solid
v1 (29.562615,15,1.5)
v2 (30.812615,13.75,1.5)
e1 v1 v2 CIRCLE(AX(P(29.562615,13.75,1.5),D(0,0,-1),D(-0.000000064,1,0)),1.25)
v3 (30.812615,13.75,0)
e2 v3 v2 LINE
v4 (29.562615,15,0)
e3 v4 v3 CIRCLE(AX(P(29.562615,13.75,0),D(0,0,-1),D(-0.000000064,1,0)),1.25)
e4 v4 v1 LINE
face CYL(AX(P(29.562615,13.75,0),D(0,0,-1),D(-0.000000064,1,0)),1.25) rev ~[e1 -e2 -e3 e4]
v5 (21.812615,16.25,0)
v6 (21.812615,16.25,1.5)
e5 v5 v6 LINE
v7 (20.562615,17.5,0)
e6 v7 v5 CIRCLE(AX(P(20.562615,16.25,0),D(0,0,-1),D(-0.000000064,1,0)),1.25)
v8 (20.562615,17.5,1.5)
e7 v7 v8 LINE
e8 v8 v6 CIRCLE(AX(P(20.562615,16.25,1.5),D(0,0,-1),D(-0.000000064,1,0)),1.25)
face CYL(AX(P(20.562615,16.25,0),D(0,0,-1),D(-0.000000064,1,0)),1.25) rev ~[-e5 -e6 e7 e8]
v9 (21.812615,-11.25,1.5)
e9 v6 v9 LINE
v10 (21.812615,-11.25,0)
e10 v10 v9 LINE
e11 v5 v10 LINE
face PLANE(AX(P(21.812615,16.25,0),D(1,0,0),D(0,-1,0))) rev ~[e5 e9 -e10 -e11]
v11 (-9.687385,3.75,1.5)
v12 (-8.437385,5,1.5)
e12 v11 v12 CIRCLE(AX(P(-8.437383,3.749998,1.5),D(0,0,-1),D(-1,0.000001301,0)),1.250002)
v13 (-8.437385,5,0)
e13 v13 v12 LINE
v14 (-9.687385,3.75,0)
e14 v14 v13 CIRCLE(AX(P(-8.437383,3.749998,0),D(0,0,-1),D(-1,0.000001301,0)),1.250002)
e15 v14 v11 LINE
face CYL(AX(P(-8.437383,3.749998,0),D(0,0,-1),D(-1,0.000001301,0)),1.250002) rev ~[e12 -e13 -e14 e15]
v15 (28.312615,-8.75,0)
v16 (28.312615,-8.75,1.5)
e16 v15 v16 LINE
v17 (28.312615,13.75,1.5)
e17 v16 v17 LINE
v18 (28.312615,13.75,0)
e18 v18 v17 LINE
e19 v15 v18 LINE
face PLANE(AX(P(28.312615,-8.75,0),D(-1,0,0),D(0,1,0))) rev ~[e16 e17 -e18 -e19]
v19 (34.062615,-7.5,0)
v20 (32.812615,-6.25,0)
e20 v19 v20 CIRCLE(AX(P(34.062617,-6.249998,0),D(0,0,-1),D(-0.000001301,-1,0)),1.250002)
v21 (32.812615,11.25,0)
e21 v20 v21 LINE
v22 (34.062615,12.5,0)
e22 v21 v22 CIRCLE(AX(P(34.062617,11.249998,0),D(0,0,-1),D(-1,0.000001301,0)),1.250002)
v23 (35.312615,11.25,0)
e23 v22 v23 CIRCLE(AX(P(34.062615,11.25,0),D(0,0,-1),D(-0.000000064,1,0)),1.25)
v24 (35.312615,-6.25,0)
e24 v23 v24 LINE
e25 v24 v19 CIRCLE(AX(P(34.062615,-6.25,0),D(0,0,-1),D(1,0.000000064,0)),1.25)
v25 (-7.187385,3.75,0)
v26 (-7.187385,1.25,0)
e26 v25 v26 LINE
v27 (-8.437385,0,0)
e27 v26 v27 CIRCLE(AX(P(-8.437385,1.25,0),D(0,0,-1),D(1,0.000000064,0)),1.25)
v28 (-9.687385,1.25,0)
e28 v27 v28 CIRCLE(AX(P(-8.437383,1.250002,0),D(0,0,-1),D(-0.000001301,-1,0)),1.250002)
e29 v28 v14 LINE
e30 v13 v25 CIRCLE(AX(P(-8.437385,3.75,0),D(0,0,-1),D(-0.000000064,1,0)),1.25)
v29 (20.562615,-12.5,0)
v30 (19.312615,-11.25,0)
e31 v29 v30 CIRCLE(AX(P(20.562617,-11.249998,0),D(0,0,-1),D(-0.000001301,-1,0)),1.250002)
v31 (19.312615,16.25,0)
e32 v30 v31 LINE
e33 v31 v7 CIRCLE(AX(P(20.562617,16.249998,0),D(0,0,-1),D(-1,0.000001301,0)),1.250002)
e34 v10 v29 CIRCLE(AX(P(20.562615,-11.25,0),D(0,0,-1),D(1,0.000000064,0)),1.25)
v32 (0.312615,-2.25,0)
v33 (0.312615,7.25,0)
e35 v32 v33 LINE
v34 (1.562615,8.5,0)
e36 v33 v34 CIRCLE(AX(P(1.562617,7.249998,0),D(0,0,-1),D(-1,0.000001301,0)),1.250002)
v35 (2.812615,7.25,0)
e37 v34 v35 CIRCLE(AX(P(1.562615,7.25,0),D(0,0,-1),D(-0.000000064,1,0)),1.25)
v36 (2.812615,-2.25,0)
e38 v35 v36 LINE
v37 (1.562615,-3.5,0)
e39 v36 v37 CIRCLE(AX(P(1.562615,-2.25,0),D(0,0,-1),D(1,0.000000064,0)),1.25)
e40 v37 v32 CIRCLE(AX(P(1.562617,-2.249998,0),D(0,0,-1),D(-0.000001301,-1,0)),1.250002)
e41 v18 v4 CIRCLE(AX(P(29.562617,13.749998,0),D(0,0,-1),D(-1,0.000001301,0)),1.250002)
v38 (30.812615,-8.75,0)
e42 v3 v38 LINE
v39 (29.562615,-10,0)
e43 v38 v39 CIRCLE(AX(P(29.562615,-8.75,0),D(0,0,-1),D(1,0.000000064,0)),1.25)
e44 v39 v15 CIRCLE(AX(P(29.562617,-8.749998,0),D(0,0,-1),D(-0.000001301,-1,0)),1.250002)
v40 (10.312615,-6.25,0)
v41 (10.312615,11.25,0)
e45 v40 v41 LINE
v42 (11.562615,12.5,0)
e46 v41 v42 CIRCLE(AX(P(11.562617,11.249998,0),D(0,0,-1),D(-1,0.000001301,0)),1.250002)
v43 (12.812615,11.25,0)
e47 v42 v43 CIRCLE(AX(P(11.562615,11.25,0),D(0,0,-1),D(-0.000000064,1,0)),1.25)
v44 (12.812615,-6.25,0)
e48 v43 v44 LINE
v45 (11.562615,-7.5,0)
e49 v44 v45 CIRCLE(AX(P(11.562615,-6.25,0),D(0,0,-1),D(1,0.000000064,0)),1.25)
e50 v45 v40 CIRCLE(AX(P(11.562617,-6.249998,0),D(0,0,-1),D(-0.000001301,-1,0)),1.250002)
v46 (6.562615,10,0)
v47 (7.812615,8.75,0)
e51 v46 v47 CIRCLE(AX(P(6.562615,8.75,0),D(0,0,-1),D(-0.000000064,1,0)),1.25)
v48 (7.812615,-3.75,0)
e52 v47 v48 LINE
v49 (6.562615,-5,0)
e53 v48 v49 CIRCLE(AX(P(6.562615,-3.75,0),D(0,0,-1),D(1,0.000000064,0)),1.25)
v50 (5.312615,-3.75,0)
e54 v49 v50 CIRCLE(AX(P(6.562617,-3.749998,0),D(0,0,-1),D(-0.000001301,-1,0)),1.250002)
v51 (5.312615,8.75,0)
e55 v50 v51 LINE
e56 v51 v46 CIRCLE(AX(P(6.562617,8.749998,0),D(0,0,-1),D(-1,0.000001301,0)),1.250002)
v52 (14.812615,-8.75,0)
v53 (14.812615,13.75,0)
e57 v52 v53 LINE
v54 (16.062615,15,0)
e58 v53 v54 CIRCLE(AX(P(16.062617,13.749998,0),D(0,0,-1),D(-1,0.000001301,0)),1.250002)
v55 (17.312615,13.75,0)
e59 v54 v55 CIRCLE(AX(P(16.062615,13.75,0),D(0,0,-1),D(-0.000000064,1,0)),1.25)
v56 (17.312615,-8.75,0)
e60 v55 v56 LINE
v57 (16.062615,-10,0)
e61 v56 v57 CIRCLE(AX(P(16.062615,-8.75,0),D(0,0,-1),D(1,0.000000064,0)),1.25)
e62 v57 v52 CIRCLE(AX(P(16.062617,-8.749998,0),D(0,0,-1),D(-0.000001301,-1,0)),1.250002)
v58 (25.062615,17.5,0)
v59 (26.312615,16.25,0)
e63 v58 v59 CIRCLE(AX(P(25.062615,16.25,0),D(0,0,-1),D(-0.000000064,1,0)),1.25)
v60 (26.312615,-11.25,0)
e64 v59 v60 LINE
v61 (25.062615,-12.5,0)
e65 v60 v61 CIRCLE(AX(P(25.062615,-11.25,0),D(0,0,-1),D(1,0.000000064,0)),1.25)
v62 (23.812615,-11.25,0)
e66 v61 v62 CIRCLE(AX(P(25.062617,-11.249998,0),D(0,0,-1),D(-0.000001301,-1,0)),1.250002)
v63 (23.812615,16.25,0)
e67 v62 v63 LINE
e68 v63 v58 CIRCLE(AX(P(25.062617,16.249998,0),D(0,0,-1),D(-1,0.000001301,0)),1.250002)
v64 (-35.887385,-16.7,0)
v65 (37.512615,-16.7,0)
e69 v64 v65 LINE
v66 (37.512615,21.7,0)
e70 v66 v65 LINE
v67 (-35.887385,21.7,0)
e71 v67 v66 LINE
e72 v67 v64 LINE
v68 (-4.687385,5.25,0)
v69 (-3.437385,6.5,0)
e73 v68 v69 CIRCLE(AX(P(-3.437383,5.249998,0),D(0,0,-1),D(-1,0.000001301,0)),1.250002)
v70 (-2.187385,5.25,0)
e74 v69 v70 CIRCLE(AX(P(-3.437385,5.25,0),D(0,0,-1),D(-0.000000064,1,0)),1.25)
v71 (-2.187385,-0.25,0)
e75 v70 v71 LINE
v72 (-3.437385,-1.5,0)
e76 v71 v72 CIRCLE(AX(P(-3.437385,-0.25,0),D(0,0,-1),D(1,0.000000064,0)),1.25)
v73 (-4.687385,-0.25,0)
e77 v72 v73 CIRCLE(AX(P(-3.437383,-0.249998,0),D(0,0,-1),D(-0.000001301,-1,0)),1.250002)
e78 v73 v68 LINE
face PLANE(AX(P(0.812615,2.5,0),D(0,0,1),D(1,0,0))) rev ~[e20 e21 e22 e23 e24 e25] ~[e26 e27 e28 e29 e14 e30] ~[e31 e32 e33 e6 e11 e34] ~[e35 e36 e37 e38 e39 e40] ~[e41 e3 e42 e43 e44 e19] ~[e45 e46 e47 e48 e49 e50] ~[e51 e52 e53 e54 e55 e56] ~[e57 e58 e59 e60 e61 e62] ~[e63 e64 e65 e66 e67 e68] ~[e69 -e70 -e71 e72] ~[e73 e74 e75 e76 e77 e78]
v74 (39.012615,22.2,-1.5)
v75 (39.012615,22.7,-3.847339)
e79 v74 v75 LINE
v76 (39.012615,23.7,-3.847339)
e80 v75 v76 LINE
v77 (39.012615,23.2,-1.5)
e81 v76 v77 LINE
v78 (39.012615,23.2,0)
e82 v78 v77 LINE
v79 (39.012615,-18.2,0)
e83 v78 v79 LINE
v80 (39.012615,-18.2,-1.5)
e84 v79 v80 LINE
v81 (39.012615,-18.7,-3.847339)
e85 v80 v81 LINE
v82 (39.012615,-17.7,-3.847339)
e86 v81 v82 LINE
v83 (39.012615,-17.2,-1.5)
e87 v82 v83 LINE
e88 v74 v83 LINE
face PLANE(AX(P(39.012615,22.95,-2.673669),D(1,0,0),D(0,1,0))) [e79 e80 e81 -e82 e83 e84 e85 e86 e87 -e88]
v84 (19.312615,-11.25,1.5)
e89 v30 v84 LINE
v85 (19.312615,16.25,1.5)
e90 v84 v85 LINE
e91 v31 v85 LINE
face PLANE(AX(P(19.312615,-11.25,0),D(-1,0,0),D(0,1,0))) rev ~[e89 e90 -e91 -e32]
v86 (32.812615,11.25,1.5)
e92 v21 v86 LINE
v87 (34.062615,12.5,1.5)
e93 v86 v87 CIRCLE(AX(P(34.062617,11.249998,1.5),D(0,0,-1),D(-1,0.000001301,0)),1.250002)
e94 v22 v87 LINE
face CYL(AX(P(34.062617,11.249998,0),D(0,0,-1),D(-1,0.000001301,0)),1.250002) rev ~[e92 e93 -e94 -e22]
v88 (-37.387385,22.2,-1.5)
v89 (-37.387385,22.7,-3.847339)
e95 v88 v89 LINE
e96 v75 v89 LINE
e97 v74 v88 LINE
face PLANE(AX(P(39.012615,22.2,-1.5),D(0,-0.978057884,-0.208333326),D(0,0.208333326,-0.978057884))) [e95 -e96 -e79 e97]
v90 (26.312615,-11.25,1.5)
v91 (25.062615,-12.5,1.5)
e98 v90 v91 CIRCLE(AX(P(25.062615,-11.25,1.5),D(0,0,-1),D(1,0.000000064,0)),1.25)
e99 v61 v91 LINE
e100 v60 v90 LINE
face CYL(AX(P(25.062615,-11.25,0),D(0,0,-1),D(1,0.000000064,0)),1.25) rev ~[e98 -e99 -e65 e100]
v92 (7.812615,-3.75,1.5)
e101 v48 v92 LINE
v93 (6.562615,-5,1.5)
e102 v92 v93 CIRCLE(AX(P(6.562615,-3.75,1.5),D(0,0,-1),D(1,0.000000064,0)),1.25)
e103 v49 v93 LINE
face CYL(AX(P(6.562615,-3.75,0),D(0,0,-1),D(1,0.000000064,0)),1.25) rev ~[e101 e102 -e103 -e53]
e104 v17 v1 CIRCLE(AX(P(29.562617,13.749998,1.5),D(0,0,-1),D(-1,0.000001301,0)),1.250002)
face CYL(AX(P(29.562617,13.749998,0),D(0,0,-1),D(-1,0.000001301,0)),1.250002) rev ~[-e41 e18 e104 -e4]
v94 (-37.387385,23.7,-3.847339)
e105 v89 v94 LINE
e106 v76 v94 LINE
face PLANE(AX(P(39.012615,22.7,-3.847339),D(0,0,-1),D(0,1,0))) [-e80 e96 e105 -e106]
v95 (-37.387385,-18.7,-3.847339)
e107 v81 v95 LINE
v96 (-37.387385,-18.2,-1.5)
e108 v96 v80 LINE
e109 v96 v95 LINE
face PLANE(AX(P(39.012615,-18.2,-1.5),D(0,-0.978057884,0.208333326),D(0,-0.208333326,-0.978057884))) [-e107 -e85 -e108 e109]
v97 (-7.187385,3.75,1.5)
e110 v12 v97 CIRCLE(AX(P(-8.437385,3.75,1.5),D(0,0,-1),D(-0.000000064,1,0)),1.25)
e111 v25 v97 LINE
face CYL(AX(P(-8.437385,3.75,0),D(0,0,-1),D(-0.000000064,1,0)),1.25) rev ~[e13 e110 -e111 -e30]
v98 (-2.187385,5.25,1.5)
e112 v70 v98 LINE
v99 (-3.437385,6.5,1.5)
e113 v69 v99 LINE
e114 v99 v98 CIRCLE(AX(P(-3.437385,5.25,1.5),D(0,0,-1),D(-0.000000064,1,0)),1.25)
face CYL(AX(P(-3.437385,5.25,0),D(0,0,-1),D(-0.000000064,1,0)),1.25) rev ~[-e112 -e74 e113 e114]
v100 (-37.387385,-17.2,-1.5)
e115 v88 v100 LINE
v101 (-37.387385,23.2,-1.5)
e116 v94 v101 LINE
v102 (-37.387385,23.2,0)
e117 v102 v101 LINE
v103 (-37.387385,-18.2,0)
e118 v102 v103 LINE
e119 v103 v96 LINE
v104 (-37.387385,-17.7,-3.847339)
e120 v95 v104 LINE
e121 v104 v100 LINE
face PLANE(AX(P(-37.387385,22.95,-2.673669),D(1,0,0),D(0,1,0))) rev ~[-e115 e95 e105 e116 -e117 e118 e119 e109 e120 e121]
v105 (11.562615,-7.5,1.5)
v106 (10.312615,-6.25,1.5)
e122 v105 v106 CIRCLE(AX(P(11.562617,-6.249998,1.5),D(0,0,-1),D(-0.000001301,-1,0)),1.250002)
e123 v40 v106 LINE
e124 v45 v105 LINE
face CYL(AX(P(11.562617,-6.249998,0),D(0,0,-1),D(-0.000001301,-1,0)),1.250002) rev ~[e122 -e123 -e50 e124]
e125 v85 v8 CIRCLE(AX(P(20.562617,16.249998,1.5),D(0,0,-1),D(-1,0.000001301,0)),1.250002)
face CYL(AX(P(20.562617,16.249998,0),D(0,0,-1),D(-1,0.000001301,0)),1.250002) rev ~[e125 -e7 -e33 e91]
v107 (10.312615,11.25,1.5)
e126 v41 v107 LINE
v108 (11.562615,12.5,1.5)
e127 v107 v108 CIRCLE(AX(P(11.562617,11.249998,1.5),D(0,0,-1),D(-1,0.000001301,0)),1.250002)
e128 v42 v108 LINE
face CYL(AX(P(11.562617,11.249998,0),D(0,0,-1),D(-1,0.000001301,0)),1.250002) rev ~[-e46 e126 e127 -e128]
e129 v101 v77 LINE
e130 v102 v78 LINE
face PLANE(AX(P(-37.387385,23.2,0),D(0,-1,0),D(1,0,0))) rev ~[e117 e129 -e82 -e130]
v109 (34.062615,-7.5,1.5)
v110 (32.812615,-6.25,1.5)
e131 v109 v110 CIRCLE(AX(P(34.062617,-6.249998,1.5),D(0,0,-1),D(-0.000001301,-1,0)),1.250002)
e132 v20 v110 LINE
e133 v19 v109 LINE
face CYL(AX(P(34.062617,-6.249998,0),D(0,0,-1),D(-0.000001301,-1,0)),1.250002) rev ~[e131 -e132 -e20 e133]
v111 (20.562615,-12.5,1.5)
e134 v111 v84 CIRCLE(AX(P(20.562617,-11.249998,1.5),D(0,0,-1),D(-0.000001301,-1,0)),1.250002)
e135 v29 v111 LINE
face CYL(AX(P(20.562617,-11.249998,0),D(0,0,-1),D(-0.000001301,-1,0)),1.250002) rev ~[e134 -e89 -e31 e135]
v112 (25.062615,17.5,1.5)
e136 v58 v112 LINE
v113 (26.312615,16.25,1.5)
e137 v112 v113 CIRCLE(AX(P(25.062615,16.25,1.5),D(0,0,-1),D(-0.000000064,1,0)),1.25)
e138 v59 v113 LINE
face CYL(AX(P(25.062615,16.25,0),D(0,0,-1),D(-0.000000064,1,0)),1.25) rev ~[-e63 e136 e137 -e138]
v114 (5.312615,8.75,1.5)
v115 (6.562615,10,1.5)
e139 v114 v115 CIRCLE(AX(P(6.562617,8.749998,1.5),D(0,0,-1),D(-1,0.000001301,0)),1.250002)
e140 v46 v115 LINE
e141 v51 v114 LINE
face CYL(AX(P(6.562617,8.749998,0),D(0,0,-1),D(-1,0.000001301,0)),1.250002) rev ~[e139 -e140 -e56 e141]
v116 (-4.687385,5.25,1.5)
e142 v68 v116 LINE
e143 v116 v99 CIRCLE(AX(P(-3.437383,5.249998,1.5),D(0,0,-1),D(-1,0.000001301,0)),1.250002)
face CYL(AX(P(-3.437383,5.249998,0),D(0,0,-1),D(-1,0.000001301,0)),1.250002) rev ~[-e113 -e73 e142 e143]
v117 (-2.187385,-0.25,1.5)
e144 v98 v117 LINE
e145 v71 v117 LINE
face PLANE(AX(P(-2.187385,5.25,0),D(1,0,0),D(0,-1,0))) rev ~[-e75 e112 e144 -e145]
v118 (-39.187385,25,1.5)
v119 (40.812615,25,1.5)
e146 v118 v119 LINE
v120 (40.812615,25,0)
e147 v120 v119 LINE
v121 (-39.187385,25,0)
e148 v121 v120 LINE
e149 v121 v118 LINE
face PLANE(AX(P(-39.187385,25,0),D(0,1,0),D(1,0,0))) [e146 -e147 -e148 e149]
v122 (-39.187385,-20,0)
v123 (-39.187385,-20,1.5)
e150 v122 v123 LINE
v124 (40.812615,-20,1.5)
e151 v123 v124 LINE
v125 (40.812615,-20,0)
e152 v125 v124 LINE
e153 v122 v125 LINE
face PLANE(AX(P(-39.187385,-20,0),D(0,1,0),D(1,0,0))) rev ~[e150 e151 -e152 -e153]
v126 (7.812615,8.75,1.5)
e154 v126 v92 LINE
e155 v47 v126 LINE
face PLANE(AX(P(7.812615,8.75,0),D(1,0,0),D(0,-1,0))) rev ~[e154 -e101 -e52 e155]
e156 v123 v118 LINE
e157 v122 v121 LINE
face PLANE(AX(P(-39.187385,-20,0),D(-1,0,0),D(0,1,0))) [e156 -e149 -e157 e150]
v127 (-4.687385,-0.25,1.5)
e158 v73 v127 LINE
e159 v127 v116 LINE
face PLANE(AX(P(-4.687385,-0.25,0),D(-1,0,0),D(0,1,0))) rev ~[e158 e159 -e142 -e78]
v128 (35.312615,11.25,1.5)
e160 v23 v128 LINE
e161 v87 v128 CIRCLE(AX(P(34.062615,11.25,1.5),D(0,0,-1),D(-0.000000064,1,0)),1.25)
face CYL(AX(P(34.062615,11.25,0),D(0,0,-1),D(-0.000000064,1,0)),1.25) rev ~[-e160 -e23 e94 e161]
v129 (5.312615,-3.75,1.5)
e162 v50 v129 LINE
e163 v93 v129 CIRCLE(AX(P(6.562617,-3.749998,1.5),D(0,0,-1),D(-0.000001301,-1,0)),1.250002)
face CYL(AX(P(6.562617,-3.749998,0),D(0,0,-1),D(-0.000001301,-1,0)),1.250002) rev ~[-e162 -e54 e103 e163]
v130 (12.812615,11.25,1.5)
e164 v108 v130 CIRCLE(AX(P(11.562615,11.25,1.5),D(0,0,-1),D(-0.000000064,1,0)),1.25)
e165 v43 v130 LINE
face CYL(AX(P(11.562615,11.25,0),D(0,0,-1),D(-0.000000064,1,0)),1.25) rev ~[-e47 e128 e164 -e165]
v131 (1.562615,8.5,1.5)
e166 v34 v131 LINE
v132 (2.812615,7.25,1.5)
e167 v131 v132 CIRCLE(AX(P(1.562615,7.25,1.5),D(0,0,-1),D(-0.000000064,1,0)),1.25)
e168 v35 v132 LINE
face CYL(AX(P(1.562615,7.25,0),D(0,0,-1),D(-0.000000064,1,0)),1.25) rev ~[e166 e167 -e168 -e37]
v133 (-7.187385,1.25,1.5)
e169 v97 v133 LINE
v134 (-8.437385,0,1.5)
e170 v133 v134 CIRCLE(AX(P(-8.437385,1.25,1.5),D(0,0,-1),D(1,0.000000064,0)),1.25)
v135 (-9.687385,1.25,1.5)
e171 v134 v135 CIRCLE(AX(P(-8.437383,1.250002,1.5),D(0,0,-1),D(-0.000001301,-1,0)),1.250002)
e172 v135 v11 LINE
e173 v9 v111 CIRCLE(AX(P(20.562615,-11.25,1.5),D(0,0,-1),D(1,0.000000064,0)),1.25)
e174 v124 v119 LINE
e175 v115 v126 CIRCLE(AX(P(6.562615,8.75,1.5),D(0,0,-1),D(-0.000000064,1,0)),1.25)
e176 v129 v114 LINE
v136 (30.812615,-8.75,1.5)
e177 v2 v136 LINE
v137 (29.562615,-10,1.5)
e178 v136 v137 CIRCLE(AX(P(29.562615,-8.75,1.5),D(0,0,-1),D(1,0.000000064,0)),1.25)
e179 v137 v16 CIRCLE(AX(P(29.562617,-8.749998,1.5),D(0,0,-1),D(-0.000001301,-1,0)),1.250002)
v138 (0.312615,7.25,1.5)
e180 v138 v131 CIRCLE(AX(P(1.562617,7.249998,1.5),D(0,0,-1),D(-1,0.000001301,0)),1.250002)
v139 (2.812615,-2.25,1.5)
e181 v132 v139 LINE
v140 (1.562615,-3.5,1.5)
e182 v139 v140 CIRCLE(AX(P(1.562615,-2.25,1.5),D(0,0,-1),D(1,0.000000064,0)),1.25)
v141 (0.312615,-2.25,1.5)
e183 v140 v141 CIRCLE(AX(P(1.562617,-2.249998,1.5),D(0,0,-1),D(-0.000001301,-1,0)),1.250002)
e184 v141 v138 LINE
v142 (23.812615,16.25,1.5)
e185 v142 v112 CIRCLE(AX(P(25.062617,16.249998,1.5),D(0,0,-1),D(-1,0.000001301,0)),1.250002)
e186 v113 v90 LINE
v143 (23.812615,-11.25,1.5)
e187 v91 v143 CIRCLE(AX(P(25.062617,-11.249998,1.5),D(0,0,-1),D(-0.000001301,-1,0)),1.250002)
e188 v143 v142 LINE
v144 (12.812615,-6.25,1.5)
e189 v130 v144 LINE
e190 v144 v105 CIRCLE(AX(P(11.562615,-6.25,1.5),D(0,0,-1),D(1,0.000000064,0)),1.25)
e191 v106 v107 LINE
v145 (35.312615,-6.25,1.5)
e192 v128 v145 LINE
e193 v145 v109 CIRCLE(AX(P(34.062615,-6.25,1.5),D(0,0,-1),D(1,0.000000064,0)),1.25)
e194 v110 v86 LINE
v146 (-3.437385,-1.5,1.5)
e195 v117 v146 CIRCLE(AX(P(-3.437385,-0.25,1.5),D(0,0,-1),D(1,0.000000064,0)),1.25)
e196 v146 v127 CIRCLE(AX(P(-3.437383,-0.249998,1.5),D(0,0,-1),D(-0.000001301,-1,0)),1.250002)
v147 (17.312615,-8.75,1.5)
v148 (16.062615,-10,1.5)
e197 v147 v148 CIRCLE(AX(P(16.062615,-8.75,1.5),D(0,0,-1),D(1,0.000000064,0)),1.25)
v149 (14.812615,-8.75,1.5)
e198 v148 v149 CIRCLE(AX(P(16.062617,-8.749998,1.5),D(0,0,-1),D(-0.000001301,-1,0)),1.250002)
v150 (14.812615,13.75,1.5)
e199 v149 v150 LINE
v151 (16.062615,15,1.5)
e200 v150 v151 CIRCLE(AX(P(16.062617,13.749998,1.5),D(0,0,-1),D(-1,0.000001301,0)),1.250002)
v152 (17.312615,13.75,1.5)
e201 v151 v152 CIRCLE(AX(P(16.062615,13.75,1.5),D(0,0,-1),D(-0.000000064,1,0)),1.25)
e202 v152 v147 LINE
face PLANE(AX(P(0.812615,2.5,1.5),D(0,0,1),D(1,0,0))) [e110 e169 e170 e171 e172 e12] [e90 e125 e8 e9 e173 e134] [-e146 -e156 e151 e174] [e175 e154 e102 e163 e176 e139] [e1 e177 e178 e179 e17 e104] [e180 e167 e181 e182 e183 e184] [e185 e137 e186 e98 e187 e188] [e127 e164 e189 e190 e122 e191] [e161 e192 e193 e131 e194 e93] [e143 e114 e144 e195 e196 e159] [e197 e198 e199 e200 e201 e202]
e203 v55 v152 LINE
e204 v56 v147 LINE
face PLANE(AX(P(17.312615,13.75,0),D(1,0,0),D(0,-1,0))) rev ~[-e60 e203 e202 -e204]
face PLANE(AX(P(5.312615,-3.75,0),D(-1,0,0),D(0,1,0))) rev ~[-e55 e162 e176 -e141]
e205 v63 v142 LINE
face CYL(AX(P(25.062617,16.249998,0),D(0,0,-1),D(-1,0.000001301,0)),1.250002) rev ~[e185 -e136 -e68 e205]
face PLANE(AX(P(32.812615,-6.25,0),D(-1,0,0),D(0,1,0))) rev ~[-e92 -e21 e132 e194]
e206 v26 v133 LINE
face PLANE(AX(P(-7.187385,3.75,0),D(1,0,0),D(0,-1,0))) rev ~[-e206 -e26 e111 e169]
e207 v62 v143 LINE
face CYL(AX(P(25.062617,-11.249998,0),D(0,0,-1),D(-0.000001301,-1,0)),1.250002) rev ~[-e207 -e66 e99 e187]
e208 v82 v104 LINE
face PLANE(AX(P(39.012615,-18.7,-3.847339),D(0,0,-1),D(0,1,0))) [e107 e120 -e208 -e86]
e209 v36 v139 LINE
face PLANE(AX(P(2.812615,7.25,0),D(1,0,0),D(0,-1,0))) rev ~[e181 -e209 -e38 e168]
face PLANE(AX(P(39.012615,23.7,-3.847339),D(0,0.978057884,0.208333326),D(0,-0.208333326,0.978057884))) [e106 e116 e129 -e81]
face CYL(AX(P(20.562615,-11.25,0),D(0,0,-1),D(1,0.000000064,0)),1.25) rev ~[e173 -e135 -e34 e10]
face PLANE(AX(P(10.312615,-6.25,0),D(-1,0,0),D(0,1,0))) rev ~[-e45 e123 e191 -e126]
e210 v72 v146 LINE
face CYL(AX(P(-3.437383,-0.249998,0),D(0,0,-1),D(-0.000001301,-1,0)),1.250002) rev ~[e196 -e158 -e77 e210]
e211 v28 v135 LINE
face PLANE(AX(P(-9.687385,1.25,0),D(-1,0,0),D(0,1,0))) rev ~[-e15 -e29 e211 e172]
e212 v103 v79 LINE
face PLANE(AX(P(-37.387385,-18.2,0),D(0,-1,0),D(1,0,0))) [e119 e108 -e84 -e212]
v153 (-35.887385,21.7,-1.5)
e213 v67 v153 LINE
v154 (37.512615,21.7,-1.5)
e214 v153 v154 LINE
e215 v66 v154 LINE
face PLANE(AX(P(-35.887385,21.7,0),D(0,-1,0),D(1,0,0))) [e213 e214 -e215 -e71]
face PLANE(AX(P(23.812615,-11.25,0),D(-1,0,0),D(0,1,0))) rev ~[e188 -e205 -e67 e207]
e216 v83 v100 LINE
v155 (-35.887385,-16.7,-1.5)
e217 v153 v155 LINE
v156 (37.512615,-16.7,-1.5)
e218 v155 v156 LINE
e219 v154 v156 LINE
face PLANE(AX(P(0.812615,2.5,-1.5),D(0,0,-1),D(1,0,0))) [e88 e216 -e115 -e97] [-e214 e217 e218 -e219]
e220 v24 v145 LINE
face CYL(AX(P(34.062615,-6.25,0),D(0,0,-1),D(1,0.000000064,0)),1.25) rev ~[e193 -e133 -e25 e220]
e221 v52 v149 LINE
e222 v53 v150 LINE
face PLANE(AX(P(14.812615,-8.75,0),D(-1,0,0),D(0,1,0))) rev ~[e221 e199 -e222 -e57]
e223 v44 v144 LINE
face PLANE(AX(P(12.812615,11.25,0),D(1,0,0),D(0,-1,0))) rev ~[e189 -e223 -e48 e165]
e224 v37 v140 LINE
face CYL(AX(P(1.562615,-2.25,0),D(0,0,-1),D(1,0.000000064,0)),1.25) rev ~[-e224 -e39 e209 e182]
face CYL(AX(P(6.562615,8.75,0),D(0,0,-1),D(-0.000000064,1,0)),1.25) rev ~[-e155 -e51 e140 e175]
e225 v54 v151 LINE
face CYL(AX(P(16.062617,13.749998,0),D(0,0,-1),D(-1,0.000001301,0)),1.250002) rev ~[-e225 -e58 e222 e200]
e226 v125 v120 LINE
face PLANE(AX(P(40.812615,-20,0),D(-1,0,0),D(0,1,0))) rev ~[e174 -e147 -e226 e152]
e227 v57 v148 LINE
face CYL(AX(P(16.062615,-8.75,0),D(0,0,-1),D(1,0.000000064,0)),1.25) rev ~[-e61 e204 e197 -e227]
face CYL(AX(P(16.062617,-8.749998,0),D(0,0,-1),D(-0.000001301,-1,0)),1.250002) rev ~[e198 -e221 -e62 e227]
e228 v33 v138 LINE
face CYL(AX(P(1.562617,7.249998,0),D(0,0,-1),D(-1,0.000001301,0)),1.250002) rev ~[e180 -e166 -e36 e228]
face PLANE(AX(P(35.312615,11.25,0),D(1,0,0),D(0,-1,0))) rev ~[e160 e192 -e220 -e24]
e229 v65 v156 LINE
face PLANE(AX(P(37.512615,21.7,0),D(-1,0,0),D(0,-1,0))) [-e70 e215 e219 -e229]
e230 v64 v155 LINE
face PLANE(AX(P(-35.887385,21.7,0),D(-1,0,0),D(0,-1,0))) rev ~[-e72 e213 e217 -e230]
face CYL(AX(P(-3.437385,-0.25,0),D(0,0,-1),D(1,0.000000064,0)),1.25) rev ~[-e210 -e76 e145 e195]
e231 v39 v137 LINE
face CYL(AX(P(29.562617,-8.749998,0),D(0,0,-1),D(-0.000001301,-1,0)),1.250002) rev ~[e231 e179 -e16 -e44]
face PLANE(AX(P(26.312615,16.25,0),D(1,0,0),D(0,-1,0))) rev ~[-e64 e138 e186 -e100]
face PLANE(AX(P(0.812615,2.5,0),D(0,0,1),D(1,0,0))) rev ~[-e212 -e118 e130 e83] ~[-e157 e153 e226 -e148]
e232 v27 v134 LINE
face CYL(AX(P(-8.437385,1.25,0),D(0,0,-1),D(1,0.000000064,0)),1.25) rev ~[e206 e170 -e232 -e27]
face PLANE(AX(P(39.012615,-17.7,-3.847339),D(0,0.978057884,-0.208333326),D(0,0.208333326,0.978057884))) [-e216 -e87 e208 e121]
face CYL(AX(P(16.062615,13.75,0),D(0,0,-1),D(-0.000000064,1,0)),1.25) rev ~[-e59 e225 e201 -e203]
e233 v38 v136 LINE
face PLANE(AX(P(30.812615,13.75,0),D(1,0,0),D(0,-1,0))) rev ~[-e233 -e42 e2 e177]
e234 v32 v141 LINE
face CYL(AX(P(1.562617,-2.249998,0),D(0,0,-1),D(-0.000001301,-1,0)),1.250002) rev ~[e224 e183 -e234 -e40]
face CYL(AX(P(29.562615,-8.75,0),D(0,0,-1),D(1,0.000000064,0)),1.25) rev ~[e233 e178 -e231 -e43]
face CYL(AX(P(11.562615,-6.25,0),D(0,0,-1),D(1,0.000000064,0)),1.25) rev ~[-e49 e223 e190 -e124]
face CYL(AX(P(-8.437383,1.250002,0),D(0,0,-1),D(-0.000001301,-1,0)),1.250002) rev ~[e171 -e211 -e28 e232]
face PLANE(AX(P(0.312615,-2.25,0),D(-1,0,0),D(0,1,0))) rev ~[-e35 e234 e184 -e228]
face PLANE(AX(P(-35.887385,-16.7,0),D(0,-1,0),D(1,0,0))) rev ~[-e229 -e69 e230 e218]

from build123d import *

# Parameters (mm, degrees)
F0_W     = 80
F0_H     = 45
F1_DEPTH = 1.5
F2_W     = 76.4
F2_H     = 41.4
F2_W_2   = 73.4
F2_H_2   = 38.4
F3_DEPTH = 1.5
F5_DEPTH = 76.4
F6_DEPTH = 76.4


with BuildPart() as f1:
    # F0 (on Top) → F1 (new body)
    with BuildSketch(Plane.XY):
        with Locations((0.812615, 2.5)):
            Rectangle(F0_W, F0_H)
        with BuildLine():
            ThreePointArc((-8.437385, 0), (-9.321268, 0.366117), (-9.687385, 1.25))
            Line((-9.687385, 1.25), (-9.687385, 3.75))
            ThreePointArc((-9.687385, 3.75), (-9.321268, 4.633883), (-8.437385, 5))
            ThreePointArc((-8.437385, 5), (-7.553501, 4.633883), (-7.187385, 3.75))
            Line((-7.187385, 3.75), (-7.187385, 1.25))
            ThreePointArc((-7.187385, 1.25), (-7.553501, 0.366117), (-8.437385, 0))
        make_face(mode=Mode.SUBTRACT)
        with BuildLine():
            ThreePointArc((-3.437385, -1.5), (-4.321268, -1.133883), (-4.687385, -0.25))
            Line((-4.687385, -0.25), (-4.687385, 5.25))
            ThreePointArc((-4.687385, 5.25), (-4.321268, 6.133883), (-3.437385, 6.5))
            ThreePointArc((-3.437385, 6.5), (-2.553501, 6.133883), (-2.187385, 5.25))
            Line((-2.187385, 5.25), (-2.187385, -0.25))
            ThreePointArc((-2.187385, -0.25), (-2.553501, -1.133883), (-3.437385, -1.5))
        make_face(mode=Mode.SUBTRACT)
        with BuildLine():
            ThreePointArc((1.562615, -3.5), (0.678732, -3.133883), (0.312615, -2.25))
            Line((0.312615, -2.25), (0.312615, 7.25))
            ThreePointArc((0.312615, 7.25), (0.678732, 8.133883), (1.562615, 8.5))
            ThreePointArc((1.562615, 8.5), (2.446499, 8.133883), (2.812615, 7.25))
            Line((2.812615, 7.25), (2.812615, -2.25))
            ThreePointArc((2.812615, -2.25), (2.446499, -3.133883), (1.562615, -3.5))
        make_face(mode=Mode.SUBTRACT)
        with BuildLine():
            ThreePointArc((6.562615, -5), (5.678732, -4.633883), (5.312615, -3.75))
            Line((5.312615, -3.75), (5.312615, 8.75))
            ThreePointArc((5.312615, 8.75), (5.678732, 9.633883), (6.562615, 10))
            ThreePointArc((6.562615, 10), (7.446499, 9.633883), (7.812615, 8.75))
            Line((7.812615, 8.75), (7.812615, -3.75))
            ThreePointArc((7.812615, -3.75), (7.446499, -4.633883), (6.562615, -5))
        make_face(mode=Mode.SUBTRACT)
        with BuildLine():
            Line((10.312615, -6.25), (10.312615, 11.25))
            ThreePointArc((10.312615, 11.25), (10.678732, 12.133883), (11.562615, 12.5))
            ThreePointArc((11.562615, 12.5), (12.446499, 12.133883), (12.812615, 11.25))
            Line((12.812615, 11.25), (12.812615, -6.25))
            ThreePointArc((12.812615, -6.25), (12.446499, -7.133883), (11.562615, -7.5))
            ThreePointArc((11.562615, -7.5), (10.678732, -7.133883), (10.312615, -6.25))
        make_face(mode=Mode.SUBTRACT)
        with BuildLine():
            Line((14.812615, -8.75), (14.812615, 13.75))
            ThreePointArc((14.812615, 13.75), (15.178732, 14.633883), (16.062615, 15))
            ThreePointArc((16.062615, 15), (16.946499, 14.633883), (17.312615, 13.75))
            Line((17.312615, 13.75), (17.312615, -8.75))
            ThreePointArc((17.312615, -8.75), (16.946499, -9.633883), (16.062615, -10))
            ThreePointArc((16.062615, -10), (15.178732, -9.633883), (14.812615, -8.75))
        make_face(mode=Mode.SUBTRACT)
        with BuildLine():
            Line((19.312615, -11.25), (19.312615, 16.25))
            ThreePointArc((19.312615, 16.25), (19.678732, 17.133883), (20.562615, 17.5))
            ThreePointArc((20.562615, 17.5), (21.446499, 17.133883), (21.812615, 16.25))
            Line((21.812615, 16.25), (21.812615, -11.25))
            ThreePointArc((21.812615, -11.25), (21.446499, -12.133883), (20.562615, -12.5))
            ThreePointArc((20.562615, -12.5), (19.678732, -12.133883), (19.312615, -11.25))
        make_face(mode=Mode.SUBTRACT)
        with BuildLine():
            Line((23.812615, -11.25), (23.812615, 16.25))
            ThreePointArc((23.812615, 16.25), (24.178732, 17.133883), (25.062615, 17.5))
            ThreePointArc((25.062615, 17.5), (25.946499, 17.133883), (26.312615, 16.25))
            Line((26.312615, 16.25), (26.312615, -11.25))
            ThreePointArc((26.312615, -11.25), (25.946499, -12.133883), (25.062615, -12.5))
            ThreePointArc((25.062615, -12.5), (24.178732, -12.133883), (23.812615, -11.25))
        make_face(mode=Mode.SUBTRACT)
        with BuildLine():
            Line((28.312615, -8.75), (28.312615, 13.75))
            ThreePointArc((28.312615, 13.75), (28.678732, 14.633883), (29.562615, 15))
            ThreePointArc((29.562615, 15), (30.446499, 14.633883), (30.812615, 13.75))
            Line((30.812615, 13.75), (30.812615, -8.75))
            ThreePointArc((30.812615, -8.75), (30.446499, -9.633883), (29.562615, -10))
            ThreePointArc((29.562615, -10), (28.678732, -9.633883), (28.312615, -8.75))
        make_face(mode=Mode.SUBTRACT)
        with BuildLine():
            Line((32.812615, -6.25), (32.812615, 11.25))
            ThreePointArc((32.812615, 11.25), (33.178732, 12.133883), (34.062615, 12.5))
            ThreePointArc((34.062615, 12.5), (34.946499, 12.133883), (35.312615, 11.25))
            Line((35.312615, 11.25), (35.312615, -6.25))
            ThreePointArc((35.312615, -6.25), (34.946499, -7.133883), (34.062615, -7.5))
            ThreePointArc((34.062615, -7.5), (33.178732, -7.133883), (32.812615, -6.25))
        make_face(mode=Mode.SUBTRACT)
    extrude(amount=F1_DEPTH)

    # F2 (on face) → F3 (join)
    with BuildSketch(Plane(origin=(0, 0, 0), x_dir=(1, 0, 0), z_dir=(0, 0, -1))):
        with Locations((0.812615, -2.5)):
            Rectangle(F2_W, F2_H)
        with Locations((0.812615, -2.5)):
            Rectangle(F2_W_2, F2_H_2, mode=Mode.SUBTRACT)
    extrude(amount=F3_DEPTH)

    # F4 (on face) → F5 (join)
    with BuildSketch(Plane.YZ.offset(39.012615)):
        Polygon((23.7, -3.847339), (23.2, -1.5), (22.2, -1.5), (22.7, -3.847339), align=None)
    extrude(amount=-F5_DEPTH)

    # F4 (on face) → F6 (join)
    with BuildSketch(Plane.YZ.offset(39.012615)):
        Polygon((23.7, -3.847339), (23.2, -1.5), (22.2, -1.5), (22.7, -3.847339), align=None)
        Polygon((-18.7, -3.847339), (-17.7, -3.847339), (-17.2, -1.5), (-18.2, -1.5), align=None)
    extrude(amount=-F6_DEPTH)


solid = f1.part
